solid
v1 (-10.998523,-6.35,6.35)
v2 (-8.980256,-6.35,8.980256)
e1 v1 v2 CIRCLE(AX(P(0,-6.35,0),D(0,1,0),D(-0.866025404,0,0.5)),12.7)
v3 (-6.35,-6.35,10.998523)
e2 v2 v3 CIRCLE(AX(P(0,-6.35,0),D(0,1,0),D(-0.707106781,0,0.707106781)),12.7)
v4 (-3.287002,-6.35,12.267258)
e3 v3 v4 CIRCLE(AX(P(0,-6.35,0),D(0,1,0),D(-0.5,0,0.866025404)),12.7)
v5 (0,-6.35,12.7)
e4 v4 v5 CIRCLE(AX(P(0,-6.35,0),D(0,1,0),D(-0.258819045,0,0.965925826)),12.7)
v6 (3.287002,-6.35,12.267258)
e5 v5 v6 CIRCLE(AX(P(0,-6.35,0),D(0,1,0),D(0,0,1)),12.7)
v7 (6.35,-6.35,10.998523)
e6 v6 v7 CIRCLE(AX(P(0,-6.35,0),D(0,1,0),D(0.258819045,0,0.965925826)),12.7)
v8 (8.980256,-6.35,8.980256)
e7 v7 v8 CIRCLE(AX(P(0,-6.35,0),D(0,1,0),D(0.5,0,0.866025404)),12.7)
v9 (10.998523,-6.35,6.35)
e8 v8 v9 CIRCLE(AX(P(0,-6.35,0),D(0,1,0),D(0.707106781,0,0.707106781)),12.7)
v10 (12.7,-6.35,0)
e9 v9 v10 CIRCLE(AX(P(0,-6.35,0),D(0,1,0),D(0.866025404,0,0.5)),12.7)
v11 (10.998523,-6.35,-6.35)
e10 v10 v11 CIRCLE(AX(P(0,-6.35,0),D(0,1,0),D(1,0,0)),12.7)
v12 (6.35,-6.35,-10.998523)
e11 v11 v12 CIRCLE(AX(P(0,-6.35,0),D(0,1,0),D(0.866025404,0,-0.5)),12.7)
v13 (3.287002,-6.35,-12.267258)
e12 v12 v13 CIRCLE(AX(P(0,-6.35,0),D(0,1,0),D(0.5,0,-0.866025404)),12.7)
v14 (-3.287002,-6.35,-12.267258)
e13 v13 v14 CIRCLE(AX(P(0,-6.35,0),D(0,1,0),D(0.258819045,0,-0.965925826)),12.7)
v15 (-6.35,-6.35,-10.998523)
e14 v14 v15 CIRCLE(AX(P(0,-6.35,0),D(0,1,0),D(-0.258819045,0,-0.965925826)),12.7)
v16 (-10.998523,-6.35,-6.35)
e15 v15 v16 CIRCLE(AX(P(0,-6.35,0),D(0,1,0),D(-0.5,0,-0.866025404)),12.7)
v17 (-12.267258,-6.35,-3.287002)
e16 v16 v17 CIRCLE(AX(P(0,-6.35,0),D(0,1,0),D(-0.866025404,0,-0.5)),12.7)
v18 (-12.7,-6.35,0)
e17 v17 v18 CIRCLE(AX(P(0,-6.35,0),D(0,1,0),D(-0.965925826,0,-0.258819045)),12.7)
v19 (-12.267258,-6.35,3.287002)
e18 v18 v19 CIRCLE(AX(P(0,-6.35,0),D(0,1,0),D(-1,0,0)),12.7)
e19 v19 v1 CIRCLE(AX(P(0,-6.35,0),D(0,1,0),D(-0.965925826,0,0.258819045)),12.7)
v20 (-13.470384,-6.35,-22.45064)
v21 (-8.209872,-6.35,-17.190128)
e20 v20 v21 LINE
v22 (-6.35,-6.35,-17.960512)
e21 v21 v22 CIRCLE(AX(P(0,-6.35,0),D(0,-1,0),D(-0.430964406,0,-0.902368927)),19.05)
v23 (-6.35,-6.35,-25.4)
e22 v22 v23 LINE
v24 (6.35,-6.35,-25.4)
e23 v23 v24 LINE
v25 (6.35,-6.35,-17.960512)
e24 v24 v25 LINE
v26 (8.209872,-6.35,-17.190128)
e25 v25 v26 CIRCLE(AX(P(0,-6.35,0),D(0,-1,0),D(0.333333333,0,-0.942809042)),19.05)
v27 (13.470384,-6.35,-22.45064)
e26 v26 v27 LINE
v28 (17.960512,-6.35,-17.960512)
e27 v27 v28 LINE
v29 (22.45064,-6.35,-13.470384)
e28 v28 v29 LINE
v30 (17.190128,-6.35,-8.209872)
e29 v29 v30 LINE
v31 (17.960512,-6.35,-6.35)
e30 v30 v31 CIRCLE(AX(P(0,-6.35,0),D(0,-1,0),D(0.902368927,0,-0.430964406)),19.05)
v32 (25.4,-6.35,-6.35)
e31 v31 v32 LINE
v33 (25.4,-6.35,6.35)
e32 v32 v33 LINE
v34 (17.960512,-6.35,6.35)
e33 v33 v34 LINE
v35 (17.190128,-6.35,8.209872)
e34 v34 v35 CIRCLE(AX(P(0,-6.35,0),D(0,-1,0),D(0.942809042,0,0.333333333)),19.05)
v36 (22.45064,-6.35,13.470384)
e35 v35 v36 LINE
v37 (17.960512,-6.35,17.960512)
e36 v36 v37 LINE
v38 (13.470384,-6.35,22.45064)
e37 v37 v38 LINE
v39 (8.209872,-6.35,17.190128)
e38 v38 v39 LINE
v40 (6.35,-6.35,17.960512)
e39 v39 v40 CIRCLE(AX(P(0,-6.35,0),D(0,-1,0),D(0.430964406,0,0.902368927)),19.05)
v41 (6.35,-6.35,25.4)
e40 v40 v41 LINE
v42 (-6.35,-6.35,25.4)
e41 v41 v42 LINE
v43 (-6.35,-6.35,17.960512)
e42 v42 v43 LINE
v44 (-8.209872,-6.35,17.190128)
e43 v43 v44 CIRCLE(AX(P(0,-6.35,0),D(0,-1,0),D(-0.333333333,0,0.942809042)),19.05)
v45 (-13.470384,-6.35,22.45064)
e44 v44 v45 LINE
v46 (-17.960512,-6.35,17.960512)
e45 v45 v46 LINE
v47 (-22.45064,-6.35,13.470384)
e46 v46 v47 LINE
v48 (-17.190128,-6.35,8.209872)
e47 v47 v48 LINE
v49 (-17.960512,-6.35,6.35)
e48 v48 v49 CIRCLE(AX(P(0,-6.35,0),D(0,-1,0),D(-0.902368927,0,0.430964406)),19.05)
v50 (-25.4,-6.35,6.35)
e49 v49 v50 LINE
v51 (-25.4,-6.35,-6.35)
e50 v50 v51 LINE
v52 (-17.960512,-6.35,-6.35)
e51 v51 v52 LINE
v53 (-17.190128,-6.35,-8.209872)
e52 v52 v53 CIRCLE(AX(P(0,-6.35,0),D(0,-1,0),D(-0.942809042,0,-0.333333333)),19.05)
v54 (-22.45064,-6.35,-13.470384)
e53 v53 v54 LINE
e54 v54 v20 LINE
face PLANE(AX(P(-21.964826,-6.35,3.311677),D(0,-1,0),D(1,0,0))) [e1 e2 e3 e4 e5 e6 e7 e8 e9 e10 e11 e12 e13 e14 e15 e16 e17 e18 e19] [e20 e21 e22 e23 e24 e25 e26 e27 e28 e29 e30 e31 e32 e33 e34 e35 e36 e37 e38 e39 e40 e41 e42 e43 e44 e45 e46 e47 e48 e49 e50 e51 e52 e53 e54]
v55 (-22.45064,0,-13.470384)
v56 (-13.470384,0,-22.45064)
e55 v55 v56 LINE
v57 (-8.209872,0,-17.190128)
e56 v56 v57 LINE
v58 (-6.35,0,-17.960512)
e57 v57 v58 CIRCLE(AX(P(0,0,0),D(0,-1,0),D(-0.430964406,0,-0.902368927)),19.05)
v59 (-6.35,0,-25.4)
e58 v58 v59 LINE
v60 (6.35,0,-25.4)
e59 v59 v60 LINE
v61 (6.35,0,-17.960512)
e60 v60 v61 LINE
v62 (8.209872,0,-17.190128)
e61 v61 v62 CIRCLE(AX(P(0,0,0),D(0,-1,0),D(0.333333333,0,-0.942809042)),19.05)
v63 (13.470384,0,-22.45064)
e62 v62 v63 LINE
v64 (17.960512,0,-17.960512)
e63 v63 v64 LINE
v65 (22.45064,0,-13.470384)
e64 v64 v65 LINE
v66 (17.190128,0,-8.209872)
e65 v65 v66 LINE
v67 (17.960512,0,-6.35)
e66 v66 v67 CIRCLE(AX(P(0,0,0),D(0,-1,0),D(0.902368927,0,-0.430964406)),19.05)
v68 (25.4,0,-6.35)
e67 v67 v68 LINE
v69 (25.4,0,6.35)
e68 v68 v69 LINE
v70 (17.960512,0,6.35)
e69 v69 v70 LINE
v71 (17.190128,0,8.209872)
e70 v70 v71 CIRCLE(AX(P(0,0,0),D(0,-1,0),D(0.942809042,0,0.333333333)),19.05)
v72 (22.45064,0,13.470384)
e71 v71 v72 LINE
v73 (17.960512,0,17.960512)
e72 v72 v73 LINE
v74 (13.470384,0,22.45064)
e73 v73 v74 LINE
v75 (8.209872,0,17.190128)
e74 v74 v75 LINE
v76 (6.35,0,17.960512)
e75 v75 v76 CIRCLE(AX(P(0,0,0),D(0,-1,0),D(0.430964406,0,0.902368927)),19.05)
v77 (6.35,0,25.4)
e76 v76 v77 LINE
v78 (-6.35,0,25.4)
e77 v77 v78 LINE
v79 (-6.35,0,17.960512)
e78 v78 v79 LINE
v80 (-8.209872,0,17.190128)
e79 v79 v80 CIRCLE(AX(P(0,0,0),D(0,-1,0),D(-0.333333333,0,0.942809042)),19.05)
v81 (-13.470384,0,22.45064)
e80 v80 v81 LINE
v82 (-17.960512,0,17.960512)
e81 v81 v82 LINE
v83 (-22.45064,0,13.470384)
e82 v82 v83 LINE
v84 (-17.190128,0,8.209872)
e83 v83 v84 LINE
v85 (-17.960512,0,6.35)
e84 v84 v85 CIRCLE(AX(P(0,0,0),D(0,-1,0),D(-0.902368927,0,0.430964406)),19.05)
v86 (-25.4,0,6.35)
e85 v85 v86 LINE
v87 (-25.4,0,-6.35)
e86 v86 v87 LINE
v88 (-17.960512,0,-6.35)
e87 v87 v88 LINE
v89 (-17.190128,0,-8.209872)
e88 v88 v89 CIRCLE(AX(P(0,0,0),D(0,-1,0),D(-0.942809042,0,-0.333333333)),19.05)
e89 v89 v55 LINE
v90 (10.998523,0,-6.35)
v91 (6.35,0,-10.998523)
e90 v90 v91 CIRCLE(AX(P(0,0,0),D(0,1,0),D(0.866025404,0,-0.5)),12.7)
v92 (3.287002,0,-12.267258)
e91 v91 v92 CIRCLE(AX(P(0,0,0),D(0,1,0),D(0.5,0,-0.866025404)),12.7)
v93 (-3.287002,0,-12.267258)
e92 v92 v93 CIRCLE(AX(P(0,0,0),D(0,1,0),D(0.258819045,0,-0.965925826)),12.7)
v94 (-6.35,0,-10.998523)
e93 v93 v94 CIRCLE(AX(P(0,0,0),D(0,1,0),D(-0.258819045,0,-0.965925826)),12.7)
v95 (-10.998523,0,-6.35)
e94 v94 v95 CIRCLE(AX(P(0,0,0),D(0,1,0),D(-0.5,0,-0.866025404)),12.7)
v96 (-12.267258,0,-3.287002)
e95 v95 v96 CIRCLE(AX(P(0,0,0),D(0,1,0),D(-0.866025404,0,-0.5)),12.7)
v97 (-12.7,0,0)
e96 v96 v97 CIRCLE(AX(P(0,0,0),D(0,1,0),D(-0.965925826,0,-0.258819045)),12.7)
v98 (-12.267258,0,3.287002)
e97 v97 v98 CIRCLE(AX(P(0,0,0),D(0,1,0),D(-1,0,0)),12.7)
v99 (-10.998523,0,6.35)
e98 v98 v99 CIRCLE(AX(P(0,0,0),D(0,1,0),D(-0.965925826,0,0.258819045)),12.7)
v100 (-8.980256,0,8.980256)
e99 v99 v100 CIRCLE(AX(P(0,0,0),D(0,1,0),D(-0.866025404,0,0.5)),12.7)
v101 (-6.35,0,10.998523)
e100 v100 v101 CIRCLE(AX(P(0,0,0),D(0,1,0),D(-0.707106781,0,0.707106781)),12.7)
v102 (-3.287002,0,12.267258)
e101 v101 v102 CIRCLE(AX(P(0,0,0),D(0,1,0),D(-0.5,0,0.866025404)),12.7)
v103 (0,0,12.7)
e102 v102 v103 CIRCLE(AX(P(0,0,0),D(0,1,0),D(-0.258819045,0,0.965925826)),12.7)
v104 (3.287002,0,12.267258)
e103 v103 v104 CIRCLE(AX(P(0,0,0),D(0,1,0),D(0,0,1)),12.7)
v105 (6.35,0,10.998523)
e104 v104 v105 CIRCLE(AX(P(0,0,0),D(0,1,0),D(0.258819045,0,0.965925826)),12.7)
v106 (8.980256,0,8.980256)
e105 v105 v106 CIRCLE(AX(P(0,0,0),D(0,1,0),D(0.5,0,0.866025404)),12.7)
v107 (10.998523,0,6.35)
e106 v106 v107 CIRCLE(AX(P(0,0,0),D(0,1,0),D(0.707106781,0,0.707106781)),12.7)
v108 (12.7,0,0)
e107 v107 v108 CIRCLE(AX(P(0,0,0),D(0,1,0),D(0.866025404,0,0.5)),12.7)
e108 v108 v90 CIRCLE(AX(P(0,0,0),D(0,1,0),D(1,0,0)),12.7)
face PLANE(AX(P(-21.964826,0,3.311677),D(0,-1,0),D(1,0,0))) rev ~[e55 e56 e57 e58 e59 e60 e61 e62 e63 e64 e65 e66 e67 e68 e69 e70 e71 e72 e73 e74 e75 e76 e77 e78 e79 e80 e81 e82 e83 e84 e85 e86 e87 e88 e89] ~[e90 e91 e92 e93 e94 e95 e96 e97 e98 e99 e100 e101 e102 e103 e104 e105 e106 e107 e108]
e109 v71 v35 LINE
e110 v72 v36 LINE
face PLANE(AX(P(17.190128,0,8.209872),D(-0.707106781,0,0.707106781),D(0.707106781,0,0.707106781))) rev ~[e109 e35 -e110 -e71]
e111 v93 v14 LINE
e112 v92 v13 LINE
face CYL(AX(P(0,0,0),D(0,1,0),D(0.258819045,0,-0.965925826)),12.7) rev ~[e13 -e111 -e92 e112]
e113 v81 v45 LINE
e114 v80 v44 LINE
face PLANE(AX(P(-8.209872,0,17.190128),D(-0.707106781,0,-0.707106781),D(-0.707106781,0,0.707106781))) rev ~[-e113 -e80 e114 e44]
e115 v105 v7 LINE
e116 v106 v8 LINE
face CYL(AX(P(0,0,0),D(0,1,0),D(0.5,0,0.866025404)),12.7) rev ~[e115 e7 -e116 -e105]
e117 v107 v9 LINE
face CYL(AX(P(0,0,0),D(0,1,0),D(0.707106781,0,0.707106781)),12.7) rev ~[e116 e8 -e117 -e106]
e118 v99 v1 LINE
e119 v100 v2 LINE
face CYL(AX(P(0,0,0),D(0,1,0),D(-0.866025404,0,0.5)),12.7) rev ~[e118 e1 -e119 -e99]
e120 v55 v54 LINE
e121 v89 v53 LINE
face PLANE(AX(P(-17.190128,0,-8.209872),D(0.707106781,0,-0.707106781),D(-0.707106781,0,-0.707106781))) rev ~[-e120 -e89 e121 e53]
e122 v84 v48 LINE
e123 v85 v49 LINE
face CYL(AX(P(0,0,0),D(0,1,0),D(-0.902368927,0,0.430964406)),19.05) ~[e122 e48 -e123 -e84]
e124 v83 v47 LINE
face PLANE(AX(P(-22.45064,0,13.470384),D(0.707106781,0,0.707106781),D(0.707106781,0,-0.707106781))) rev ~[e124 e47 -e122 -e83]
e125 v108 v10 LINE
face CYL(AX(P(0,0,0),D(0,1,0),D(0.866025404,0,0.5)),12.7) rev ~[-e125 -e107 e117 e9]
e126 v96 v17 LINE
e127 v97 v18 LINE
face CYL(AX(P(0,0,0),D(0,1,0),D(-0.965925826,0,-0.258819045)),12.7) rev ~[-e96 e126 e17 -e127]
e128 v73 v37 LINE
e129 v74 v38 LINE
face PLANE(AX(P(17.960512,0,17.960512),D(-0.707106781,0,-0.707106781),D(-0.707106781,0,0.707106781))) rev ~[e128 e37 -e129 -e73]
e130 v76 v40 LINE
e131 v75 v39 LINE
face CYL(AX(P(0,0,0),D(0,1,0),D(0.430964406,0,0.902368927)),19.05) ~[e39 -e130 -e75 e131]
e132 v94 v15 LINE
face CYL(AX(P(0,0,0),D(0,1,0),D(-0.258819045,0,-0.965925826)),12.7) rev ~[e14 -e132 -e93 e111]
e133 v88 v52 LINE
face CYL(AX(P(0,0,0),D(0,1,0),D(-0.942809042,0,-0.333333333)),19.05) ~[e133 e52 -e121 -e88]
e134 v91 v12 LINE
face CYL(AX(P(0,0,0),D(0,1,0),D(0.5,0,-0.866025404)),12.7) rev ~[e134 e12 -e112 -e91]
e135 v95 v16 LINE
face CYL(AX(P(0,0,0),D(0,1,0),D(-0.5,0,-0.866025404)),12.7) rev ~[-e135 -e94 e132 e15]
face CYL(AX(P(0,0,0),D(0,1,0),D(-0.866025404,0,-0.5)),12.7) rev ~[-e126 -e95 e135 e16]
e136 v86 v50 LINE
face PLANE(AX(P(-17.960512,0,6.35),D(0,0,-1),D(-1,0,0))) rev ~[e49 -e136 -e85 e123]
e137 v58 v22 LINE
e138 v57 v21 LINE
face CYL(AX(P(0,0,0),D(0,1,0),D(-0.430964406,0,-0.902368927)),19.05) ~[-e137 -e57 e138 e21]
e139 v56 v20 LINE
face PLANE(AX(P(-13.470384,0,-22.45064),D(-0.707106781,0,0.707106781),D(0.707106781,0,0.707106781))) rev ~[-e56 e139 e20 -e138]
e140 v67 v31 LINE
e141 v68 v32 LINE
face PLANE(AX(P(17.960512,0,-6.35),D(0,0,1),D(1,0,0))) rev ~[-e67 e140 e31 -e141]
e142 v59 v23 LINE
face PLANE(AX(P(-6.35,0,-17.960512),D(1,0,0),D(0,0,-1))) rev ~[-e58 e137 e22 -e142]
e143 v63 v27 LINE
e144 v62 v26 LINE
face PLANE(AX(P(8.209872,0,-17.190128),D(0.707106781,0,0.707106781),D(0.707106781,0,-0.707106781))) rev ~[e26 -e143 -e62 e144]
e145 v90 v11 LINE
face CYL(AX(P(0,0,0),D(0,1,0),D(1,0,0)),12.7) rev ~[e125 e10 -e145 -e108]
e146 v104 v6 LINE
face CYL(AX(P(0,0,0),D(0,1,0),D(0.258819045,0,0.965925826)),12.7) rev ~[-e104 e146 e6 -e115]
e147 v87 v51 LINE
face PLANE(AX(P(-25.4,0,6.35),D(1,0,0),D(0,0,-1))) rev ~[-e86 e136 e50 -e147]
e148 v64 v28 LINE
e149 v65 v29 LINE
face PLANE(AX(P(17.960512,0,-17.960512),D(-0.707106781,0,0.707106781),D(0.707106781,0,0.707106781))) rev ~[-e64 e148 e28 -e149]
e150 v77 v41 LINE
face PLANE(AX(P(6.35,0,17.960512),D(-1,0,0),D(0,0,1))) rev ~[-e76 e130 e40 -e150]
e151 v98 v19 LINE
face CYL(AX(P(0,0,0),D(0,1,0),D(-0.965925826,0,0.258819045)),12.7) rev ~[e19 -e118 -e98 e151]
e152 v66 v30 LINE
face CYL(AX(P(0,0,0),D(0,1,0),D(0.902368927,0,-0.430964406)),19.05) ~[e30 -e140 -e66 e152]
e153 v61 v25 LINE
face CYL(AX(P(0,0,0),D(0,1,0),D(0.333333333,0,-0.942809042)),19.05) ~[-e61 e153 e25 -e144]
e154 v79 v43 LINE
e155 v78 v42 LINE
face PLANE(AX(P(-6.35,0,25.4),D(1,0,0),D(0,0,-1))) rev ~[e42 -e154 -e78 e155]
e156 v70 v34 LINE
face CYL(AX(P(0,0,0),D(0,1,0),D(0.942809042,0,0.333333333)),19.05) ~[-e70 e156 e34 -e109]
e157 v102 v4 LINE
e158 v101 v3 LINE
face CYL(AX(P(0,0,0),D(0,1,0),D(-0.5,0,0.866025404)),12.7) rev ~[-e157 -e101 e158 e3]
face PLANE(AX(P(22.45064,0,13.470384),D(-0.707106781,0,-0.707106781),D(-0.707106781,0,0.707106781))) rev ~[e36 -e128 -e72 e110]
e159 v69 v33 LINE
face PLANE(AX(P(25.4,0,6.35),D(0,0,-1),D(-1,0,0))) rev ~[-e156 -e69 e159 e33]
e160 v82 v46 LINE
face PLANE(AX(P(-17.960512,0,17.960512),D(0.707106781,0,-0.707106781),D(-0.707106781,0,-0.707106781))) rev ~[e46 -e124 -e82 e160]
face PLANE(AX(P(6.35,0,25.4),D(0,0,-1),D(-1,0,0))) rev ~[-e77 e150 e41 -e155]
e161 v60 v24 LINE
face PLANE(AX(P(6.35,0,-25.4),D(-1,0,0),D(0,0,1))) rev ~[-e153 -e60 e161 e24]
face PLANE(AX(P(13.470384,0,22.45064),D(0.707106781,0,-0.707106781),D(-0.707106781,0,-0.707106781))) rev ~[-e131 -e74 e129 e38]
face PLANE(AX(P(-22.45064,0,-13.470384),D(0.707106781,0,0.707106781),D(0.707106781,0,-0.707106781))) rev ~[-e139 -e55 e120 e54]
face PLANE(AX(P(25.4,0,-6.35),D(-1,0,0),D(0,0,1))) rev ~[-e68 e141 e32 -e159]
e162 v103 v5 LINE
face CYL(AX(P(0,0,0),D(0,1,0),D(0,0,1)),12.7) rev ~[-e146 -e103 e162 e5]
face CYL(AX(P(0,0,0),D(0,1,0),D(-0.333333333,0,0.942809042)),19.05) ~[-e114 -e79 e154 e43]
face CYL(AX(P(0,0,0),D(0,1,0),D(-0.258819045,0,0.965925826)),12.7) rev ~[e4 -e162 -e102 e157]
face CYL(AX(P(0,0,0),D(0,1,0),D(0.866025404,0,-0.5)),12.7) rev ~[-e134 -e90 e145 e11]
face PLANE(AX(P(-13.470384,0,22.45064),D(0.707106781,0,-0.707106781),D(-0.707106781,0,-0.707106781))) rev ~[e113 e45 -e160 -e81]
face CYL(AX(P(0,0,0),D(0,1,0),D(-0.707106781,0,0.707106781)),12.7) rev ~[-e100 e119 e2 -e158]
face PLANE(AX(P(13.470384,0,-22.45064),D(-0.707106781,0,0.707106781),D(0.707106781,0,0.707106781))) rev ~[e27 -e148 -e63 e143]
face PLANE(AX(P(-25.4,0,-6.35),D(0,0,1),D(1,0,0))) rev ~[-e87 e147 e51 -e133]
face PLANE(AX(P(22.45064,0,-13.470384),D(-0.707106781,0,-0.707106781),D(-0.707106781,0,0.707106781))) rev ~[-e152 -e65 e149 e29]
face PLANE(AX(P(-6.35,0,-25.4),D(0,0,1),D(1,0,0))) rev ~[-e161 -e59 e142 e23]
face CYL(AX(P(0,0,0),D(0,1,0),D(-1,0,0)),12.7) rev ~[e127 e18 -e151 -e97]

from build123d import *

# Parameters (mm, degrees)
F1_DEPTH = 6.35


with BuildPart() as f1:
    # F0 (on Front) → F1 (new body)
    with BuildSketch(Plane.XZ):
        with BuildLine():
            Line((-25.4, 0), (-19.05, 0))
            ThreePointArc((-19.05, 0), (-18.7756525614, 3.2213926947), (-17.9605122421, 6.35))
            Line((-17.9605122421, 6.35), (-25.4, 6.35))
            Line((-25.4, 6.35), (-25.4, 0))
        make_face()
        with BuildLine():
            ThreePointArc((-17.9605122421, -6.35), (-18.7756525614, -3.2213926947), (-19.05, 0))
            Line((-19.05, 0), (-25.4, 0))
            Line((-25.4, 0), (-25.4, -6.35))
            Line((-25.4, -6.35), (-17.9605122421, -6.35))
        make_face()
        with BuildLine():
            Line((-19.05, 0), (-12.7, 0))
            ThreePointArc((-12.7, 0), (-12.5913497394, 1.6576826412), (-12.2672579939, 3.2870018728))
            Line((-12.2672579939, 3.2870018728), (-15.3302561211, 6.35))
            Line((-15.3302561211, 6.35), (-17.9605122421, 6.35))
            ThreePointArc((-17.9605122421, 6.35), (-18.7756525614, 3.2213926947), (-19.05, 0))
        make_face()
        with BuildLine():
            ThreePointArc((-12.2672579939, -3.2870018728), (-12.5913497394, -1.6576826412), (-12.7, 0))
            Line((-12.7, 0), (-19.05, 0))
            ThreePointArc((-19.05, 0), (-18.7756525614, -3.2213926947), (-17.9605122421, -6.35))
            Line((-17.9605122421, -6.35), (-15.3302561211, -6.35))
            Line((-15.3302561211, -6.35), (-12.2672579939, -3.2870018728))
        make_face()
        with BuildLine():
            ThreePointArc((-17.1901280605, 8.2098719395), (-15.5542598667, 10.9985226281), (-13.4703841816, 13.4703841816))
            Line((-13.4703841816, 13.4703841816), (-17.9605122421, 17.9605122421))
            Line((-17.9605122421, 17.9605122421), (-22.4506403027, 13.4703841816))
            Line((-22.4506403027, 13.4703841816), (-17.1901280605, 8.2098719395))
        make_face()
        with BuildLine():
            Line((-17.9605122421, 17.9605122421), (-13.4703841816, 13.4703841816))
            ThreePointArc((-13.4703841816, 13.4703841816), (-10.9985226281, 15.5542598667), (-8.2098719395, 17.1901280605))
            Line((-8.2098719395, 17.1901280605), (-13.4703841816, 22.4506403027))
            Line((-13.4703841816, 22.4506403027), (-17.9605122421, 17.9605122421))
        make_face()
        with BuildLine():
            Line((-13.4703841816, 13.4703841816), (-8.9802561211, 8.9802561211))
            ThreePointArc((-8.9802561211, 8.9802561211), (-7.7312701484, 10.0755874217), (-6.35, 10.9985226281))
            Line((-6.35, 10.9985226281), (-6.35, 15.3302561211))
            Line((-6.35, 15.3302561211), (-8.2098719395, 17.1901280605))
            ThreePointArc((-8.2098719395, 17.1901280605), (-10.9985226281, 15.5542598667), (-13.4703841816, 13.4703841816))
        make_face()
        with BuildLine():
            ThreePointArc((-10.9985226281, 6.35), (-10.0755874217, 7.7312701484), (-8.9802561211, 8.9802561211))
            Line((-8.9802561211, 8.9802561211), (-13.4703841816, 13.4703841816))
            ThreePointArc((-13.4703841816, 13.4703841816), (-15.5542598667, 10.9985226281), (-17.1901280605, 8.2098719395))
            Line((-17.1901280605, 8.2098719395), (-15.3302561211, 6.35))
            Line((-15.3302561211, 6.35), (-10.9985226281, 6.35))
        make_face()
        with BuildLine():
            ThreePointArc((-3.2870018728, 12.2672579939), (-1.6576826412, 12.5913497394), (0, 12.7))
            Line((0, 12.7), (0, 19.05))
            ThreePointArc((0, 19.05), (-3.2213926947, 18.7756525614), (-6.35, 17.9605122421))
            Line((-6.35, 17.9605122421), (-6.35, 15.3302561211))
            Line((-6.35, 15.3302561211), (-3.2870018728, 12.2672579939))
        make_face()
        with BuildLine():
            ThreePointArc((-6.35, 17.9605122421), (-3.2213926947, 18.7756525614), (0, 19.05))
            Line((0, 19.05), (0, 25.4))
            Line((0, 25.4), (-6.35, 25.4))
            Line((-6.35, 25.4), (-6.35, 17.9605122421))
        make_face()
        with BuildLine():
            Line((-6.35, 15.3302561211), (-6.35, 10.9985226281))
            ThreePointArc((-6.35, 10.9985226281), (-4.860079591, 11.7332700629), (-3.2870018728, 12.2672579939))
            Line((-3.2870018728, 12.2672579939), (-6.35, 15.3302561211))
        make_face()
        with BuildLine():
            ThreePointArc((0, 19.05), (3.2213926947, 18.7756525614), (6.35, 17.9605122421))
            Line((6.35, 17.9605122421), (6.35, 25.4))
            Line((6.35, 25.4), (0, 25.4))
            Line((0, 25.4), (0, 19.05))
        make_face()
        with BuildLine():
            Line((-8.2098719395, 17.1901280605), (-6.35, 15.3302561211))
            Line((-6.35, 15.3302561211), (-6.35, 17.9605122421))
            ThreePointArc((-6.35, 17.9605122421), (-7.2901193866, 17.5999050943), (-8.2098719395, 17.1901280605))
        make_face()
        with BuildLine():
            Line((-17.9605122421, 6.35), (-15.3302561211, 6.35))
            Line((-15.3302561211, 6.35), (-17.1901280605, 8.2098719395))
            ThreePointArc((-17.1901280605, 8.2098719395), (-17.5999050943, 7.2901193866), (-17.9605122421, 6.35))
        make_face()
        with BuildLine():
            ThreePointArc((0, 12.7), (1.6576826412, 12.5913497394), (3.2870018728, 12.2672579939))
            Line((3.2870018728, 12.2672579939), (6.35, 15.3302561211))
            Line((6.35, 15.3302561211), (6.35, 17.9605122421))
            ThreePointArc((6.35, 17.9605122421), (3.2213926947, 18.7756525614), (0, 19.05))
            Line((0, 19.05), (0, 12.7))
        make_face()
        with BuildLine():
            Line((6.35, 17.9605122421), (6.35, 15.3302561211))
            Line((6.35, 15.3302561211), (8.2098719395, 17.1901280605))
            ThreePointArc((8.2098719395, 17.1901280605), (7.2901193866, 17.5999050943), (6.35, 17.9605122421))
        make_face()
        with BuildLine():
            ThreePointArc((3.2870018728, 12.2672579939), (4.860079591, 11.7332700629), (6.35, 10.9985226281))
            Line((6.35, 10.9985226281), (6.35, 15.3302561211))
            Line((6.35, 15.3302561211), (3.2870018728, 12.2672579939))
        make_face()
        with BuildLine():
            ThreePointArc((6.35, 10.9985226281), (7.7312701484, 10.0755874217), (8.9802561211, 8.9802561211))
            Line((8.9802561211, 8.9802561211), (13.4703841816, 13.4703841816))
            ThreePointArc((13.4703841816, 13.4703841816), (10.9985226281, 15.5542598667), (8.2098719395, 17.1901280605))
            Line((8.2098719395, 17.1901280605), (6.35, 15.3302561211))
            Line((6.35, 15.3302561211), (6.35, 10.9985226281))
        make_face()
        with BuildLine():
            ThreePointArc((8.2098719395, 17.1901280605), (10.9985226281, 15.5542598667), (13.4703841816, 13.4703841816))
            Line((13.4703841816, 13.4703841816), (17.9605122421, 17.9605122421))
            Line((17.9605122421, 17.9605122421), (13.4703841816, 22.4506403027))
            Line((13.4703841816, 22.4506403027), (8.2098719395, 17.1901280605))
        make_face()
        with BuildLine():
            Line((17.9605122421, 17.9605122421), (13.4703841816, 13.4703841816))
            ThreePointArc((13.4703841816, 13.4703841816), (15.5542598667, 10.9985226281), (17.1901280605, 8.2098719395))
            Line((17.1901280605, 8.2098719395), (22.4506403027, 13.4703841816))
            Line((22.4506403027, 13.4703841816), (17.9605122421, 17.9605122421))
        make_face()
        with BuildLine():
            ThreePointArc((8.9802561211, 8.9802561211), (10.0755874217, 7.7312701484), (10.9985226281, 6.35))
            Line((10.9985226281, 6.35), (15.3302561211, 6.35))
            Line((15.3302561211, 6.35), (17.1901280605, 8.2098719395))
            ThreePointArc((17.1901280605, 8.2098719395), (15.5542598667, 10.9985226281), (13.4703841816, 13.4703841816))
            Line((13.4703841816, 13.4703841816), (8.9802561211, 8.9802561211))
        make_face()
        with BuildLine():
            ThreePointArc((10.9985226281, 6.35), (12.2672579939, 3.2870018728), (12.7, 0))
            Line((12.7, 0), (19.05, 0))
            ThreePointArc((19.05, 0), (18.7756525614, 3.2213926947), (17.9605122421, 6.35))
            Line((17.9605122421, 6.35), (15.3302561211, 6.35))
            Line((15.3302561211, 6.35), (10.9985226281, 6.35))
        make_face()
        with BuildLine():
            ThreePointArc((17.9605122421, 6.35), (18.7756525614, 3.2213926947), (19.05, 0))
            Line((19.05, 0), (25.4, 0))
            Line((25.4, 0), (25.4, 6.35))
            Line((25.4, 6.35), (17.9605122421, 6.35))
        make_face()
        with BuildLine():
            Line((17.1901280605, 8.2098719395), (15.3302561211, 6.35))
            Line((15.3302561211, 6.35), (17.9605122421, 6.35))
            ThreePointArc((17.9605122421, 6.35), (17.5999050943, 7.2901193866), (17.1901280605, 8.2098719395))
        make_face()
        with BuildLine():
            Line((25.4, 0), (19.05, 0))
            ThreePointArc((19.05, 0), (18.7756525614, -3.2213926947), (17.9605122421, -6.35))
            Line((17.9605122421, -6.35), (25.4, -6.35))
            Line((25.4, -6.35), (25.4, 0))
        make_face()
        with BuildLine():
            Line((19.05, 0), (12.7, 0))
            ThreePointArc((12.7, 0), (12.2672579939, -3.2870018728), (10.9985226281, -6.35))
            Line((10.9985226281, -6.35), (15.3302561211, -6.35))
            Line((15.3302561211, -6.35), (17.9605122421, -6.35))
            ThreePointArc((17.9605122421, -6.35), (18.7756525614, -3.2213926947), (19.05, 0))
        make_face()
        with BuildLine():
            Line((15.3302561211, -6.35), (10.9985226281, -6.35))
            ThreePointArc((10.9985226281, -6.35), (8.9802561211, -8.9802561211), (6.35, -10.9985226281))
            Line((6.35, -10.9985226281), (6.35, -15.3302561211))
            Line((6.35, -15.3302561211), (8.2098719395, -17.1901280605))
            ThreePointArc((8.2098719395, -17.1901280605), (13.4703841816, -13.4703841816), (17.1901280605, -8.2098719395))
            Line((17.1901280605, -8.2098719395), (15.3302561211, -6.35))
        make_face()
        with BuildLine():
            Line((22.4506403027, -13.4703841816), (17.1901280605, -8.2098719395))
            ThreePointArc((17.1901280605, -8.2098719395), (13.4703841816, -13.4703841816), (8.2098719395, -17.1901280605))
            Line((8.2098719395, -17.1901280605), (13.4703841816, -22.4506403027))
            Line((13.4703841816, -22.4506403027), (17.9605122421, -17.9605122421))
            Line((17.9605122421, -17.9605122421), (22.4506403027, -13.4703841816))
        make_face()
        with BuildLine():
            Line((6.35, -15.3302561211), (3.2870018728, -12.2672579939))
            ThreePointArc((3.2870018728, -12.2672579939), (0, -12.7), (-3.2870018728, -12.2672579939))
            Line((-3.2870018728, -12.2672579939), (-6.35, -15.3302561211))
            Line((-6.35, -15.3302561211), (-6.35, -17.9605122421))
            ThreePointArc((-6.35, -17.9605122421), (0, -19.05), (6.35, -17.9605122421))
            Line((6.35, -17.9605122421), (6.35, -15.3302561211))
        make_face()
        with BuildLine():
            Line((-6.35, -15.3302561211), (-6.35, -10.9985226281))
            ThreePointArc((-6.35, -10.9985226281), (-8.9802561211, -8.9802561211), (-10.9985226281, -6.35))
            Line((-10.9985226281, -6.35), (-15.3302561211, -6.35))
            Line((-15.3302561211, -6.35), (-17.1901280605, -8.2098719395))
            ThreePointArc((-17.1901280605, -8.2098719395), (-13.4703841816, -13.4703841816), (-8.2098719395, -17.1901280605))
            Line((-8.2098719395, -17.1901280605), (-6.35, -15.3302561211))
        make_face()
        with BuildLine():
            Line((-13.4703841816, -22.4506403027), (-8.2098719395, -17.1901280605))
            ThreePointArc((-8.2098719395, -17.1901280605), (-13.4703841816, -13.4703841816), (-17.1901280605, -8.2098719395))
            Line((-17.1901280605, -8.2098719395), (-22.4506403027, -13.4703841816))
            Line((-22.4506403027, -13.4703841816), (-13.4703841816, -22.4506403027))
        make_face()
        with BuildLine():
            Line((6.35, -25.4), (6.35, -17.9605122421))
            ThreePointArc((6.35, -17.9605122421), (0, -19.05), (-6.35, -17.9605122421))
            Line((-6.35, -17.9605122421), (-6.35, -25.4))
            Line((-6.35, -25.4), (0, -25.4))
            Line((0, -25.4), (6.35, -25.4))
        make_face()
        with BuildLine():
            Line((6.35, -15.3302561211), (6.35, -10.9985226281))
            ThreePointArc((6.35, -10.9985226281), (4.860079591, -11.7332700629), (3.2870018728, -12.2672579939))
            Line((3.2870018728, -12.2672579939), (6.35, -15.3302561211))
        make_face()
        with BuildLine():
            Line((-6.35, -15.3302561211), (-3.2870018728, -12.2672579939))
            ThreePointArc((-3.2870018728, -12.2672579939), (-4.860079591, -11.7332700629), (-6.35, -10.9985226281))
            Line((-6.35, -10.9985226281), (-6.35, -15.3302561211))
        make_face()
        with BuildLine():
            ThreePointArc((-10.9985226281, -6.35), (-11.7332700629, -4.860079591), (-12.2672579939, -3.2870018728))
            Line((-12.2672579939, -3.2870018728), (-15.3302561211, -6.35))
            Line((-15.3302561211, -6.35), (-10.9985226281, -6.35))
        make_face()
        with BuildLine():
            ThreePointArc((-12.2672579939, 3.2870018728), (-11.7332700629, 4.860079591), (-10.9985226281, 6.35))
            Line((-10.9985226281, 6.35), (-15.3302561211, 6.35))
            Line((-15.3302561211, 6.35), (-12.2672579939, 3.2870018728))
        make_face()
        with BuildLine():
            Line((17.9605122421, -6.35), (15.3302561211, -6.35))
            Line((15.3302561211, -6.35), (17.1901280605, -8.2098719395))
            ThreePointArc((17.1901280605, -8.2098719395), (17.5999050943, -7.2901193866), (17.9605122421, -6.35))
        make_face()
        with BuildLine():
            Line((8.2098719395, -17.1901280605), (6.35, -15.3302561211))
            Line((6.35, -15.3302561211), (6.35, -17.9605122421))
            ThreePointArc((6.35, -17.9605122421), (7.2901193866, -17.5999050943), (8.2098719395, -17.1901280605))
        make_face()
        with BuildLine():
            Line((-6.35, -17.9605122421), (-6.35, -15.3302561211))
            Line((-6.35, -15.3302561211), (-8.2098719395, -17.1901280605))
            ThreePointArc((-8.2098719395, -17.1901280605), (-7.2901193866, -17.5999050943), (-6.35, -17.9605122421))
        make_face()
        with BuildLine():
            Line((-17.1901280605, -8.2098719395), (-15.3302561211, -6.35))
            Line((-15.3302561211, -6.35), (-17.9605122421, -6.35))
            ThreePointArc((-17.9605122421, -6.35), (-17.5999050943, -7.2901193866), (-17.1901280605, -8.2098719395))
        make_face()
    extrude(amount=F1_DEPTH)


solid = f1.part
